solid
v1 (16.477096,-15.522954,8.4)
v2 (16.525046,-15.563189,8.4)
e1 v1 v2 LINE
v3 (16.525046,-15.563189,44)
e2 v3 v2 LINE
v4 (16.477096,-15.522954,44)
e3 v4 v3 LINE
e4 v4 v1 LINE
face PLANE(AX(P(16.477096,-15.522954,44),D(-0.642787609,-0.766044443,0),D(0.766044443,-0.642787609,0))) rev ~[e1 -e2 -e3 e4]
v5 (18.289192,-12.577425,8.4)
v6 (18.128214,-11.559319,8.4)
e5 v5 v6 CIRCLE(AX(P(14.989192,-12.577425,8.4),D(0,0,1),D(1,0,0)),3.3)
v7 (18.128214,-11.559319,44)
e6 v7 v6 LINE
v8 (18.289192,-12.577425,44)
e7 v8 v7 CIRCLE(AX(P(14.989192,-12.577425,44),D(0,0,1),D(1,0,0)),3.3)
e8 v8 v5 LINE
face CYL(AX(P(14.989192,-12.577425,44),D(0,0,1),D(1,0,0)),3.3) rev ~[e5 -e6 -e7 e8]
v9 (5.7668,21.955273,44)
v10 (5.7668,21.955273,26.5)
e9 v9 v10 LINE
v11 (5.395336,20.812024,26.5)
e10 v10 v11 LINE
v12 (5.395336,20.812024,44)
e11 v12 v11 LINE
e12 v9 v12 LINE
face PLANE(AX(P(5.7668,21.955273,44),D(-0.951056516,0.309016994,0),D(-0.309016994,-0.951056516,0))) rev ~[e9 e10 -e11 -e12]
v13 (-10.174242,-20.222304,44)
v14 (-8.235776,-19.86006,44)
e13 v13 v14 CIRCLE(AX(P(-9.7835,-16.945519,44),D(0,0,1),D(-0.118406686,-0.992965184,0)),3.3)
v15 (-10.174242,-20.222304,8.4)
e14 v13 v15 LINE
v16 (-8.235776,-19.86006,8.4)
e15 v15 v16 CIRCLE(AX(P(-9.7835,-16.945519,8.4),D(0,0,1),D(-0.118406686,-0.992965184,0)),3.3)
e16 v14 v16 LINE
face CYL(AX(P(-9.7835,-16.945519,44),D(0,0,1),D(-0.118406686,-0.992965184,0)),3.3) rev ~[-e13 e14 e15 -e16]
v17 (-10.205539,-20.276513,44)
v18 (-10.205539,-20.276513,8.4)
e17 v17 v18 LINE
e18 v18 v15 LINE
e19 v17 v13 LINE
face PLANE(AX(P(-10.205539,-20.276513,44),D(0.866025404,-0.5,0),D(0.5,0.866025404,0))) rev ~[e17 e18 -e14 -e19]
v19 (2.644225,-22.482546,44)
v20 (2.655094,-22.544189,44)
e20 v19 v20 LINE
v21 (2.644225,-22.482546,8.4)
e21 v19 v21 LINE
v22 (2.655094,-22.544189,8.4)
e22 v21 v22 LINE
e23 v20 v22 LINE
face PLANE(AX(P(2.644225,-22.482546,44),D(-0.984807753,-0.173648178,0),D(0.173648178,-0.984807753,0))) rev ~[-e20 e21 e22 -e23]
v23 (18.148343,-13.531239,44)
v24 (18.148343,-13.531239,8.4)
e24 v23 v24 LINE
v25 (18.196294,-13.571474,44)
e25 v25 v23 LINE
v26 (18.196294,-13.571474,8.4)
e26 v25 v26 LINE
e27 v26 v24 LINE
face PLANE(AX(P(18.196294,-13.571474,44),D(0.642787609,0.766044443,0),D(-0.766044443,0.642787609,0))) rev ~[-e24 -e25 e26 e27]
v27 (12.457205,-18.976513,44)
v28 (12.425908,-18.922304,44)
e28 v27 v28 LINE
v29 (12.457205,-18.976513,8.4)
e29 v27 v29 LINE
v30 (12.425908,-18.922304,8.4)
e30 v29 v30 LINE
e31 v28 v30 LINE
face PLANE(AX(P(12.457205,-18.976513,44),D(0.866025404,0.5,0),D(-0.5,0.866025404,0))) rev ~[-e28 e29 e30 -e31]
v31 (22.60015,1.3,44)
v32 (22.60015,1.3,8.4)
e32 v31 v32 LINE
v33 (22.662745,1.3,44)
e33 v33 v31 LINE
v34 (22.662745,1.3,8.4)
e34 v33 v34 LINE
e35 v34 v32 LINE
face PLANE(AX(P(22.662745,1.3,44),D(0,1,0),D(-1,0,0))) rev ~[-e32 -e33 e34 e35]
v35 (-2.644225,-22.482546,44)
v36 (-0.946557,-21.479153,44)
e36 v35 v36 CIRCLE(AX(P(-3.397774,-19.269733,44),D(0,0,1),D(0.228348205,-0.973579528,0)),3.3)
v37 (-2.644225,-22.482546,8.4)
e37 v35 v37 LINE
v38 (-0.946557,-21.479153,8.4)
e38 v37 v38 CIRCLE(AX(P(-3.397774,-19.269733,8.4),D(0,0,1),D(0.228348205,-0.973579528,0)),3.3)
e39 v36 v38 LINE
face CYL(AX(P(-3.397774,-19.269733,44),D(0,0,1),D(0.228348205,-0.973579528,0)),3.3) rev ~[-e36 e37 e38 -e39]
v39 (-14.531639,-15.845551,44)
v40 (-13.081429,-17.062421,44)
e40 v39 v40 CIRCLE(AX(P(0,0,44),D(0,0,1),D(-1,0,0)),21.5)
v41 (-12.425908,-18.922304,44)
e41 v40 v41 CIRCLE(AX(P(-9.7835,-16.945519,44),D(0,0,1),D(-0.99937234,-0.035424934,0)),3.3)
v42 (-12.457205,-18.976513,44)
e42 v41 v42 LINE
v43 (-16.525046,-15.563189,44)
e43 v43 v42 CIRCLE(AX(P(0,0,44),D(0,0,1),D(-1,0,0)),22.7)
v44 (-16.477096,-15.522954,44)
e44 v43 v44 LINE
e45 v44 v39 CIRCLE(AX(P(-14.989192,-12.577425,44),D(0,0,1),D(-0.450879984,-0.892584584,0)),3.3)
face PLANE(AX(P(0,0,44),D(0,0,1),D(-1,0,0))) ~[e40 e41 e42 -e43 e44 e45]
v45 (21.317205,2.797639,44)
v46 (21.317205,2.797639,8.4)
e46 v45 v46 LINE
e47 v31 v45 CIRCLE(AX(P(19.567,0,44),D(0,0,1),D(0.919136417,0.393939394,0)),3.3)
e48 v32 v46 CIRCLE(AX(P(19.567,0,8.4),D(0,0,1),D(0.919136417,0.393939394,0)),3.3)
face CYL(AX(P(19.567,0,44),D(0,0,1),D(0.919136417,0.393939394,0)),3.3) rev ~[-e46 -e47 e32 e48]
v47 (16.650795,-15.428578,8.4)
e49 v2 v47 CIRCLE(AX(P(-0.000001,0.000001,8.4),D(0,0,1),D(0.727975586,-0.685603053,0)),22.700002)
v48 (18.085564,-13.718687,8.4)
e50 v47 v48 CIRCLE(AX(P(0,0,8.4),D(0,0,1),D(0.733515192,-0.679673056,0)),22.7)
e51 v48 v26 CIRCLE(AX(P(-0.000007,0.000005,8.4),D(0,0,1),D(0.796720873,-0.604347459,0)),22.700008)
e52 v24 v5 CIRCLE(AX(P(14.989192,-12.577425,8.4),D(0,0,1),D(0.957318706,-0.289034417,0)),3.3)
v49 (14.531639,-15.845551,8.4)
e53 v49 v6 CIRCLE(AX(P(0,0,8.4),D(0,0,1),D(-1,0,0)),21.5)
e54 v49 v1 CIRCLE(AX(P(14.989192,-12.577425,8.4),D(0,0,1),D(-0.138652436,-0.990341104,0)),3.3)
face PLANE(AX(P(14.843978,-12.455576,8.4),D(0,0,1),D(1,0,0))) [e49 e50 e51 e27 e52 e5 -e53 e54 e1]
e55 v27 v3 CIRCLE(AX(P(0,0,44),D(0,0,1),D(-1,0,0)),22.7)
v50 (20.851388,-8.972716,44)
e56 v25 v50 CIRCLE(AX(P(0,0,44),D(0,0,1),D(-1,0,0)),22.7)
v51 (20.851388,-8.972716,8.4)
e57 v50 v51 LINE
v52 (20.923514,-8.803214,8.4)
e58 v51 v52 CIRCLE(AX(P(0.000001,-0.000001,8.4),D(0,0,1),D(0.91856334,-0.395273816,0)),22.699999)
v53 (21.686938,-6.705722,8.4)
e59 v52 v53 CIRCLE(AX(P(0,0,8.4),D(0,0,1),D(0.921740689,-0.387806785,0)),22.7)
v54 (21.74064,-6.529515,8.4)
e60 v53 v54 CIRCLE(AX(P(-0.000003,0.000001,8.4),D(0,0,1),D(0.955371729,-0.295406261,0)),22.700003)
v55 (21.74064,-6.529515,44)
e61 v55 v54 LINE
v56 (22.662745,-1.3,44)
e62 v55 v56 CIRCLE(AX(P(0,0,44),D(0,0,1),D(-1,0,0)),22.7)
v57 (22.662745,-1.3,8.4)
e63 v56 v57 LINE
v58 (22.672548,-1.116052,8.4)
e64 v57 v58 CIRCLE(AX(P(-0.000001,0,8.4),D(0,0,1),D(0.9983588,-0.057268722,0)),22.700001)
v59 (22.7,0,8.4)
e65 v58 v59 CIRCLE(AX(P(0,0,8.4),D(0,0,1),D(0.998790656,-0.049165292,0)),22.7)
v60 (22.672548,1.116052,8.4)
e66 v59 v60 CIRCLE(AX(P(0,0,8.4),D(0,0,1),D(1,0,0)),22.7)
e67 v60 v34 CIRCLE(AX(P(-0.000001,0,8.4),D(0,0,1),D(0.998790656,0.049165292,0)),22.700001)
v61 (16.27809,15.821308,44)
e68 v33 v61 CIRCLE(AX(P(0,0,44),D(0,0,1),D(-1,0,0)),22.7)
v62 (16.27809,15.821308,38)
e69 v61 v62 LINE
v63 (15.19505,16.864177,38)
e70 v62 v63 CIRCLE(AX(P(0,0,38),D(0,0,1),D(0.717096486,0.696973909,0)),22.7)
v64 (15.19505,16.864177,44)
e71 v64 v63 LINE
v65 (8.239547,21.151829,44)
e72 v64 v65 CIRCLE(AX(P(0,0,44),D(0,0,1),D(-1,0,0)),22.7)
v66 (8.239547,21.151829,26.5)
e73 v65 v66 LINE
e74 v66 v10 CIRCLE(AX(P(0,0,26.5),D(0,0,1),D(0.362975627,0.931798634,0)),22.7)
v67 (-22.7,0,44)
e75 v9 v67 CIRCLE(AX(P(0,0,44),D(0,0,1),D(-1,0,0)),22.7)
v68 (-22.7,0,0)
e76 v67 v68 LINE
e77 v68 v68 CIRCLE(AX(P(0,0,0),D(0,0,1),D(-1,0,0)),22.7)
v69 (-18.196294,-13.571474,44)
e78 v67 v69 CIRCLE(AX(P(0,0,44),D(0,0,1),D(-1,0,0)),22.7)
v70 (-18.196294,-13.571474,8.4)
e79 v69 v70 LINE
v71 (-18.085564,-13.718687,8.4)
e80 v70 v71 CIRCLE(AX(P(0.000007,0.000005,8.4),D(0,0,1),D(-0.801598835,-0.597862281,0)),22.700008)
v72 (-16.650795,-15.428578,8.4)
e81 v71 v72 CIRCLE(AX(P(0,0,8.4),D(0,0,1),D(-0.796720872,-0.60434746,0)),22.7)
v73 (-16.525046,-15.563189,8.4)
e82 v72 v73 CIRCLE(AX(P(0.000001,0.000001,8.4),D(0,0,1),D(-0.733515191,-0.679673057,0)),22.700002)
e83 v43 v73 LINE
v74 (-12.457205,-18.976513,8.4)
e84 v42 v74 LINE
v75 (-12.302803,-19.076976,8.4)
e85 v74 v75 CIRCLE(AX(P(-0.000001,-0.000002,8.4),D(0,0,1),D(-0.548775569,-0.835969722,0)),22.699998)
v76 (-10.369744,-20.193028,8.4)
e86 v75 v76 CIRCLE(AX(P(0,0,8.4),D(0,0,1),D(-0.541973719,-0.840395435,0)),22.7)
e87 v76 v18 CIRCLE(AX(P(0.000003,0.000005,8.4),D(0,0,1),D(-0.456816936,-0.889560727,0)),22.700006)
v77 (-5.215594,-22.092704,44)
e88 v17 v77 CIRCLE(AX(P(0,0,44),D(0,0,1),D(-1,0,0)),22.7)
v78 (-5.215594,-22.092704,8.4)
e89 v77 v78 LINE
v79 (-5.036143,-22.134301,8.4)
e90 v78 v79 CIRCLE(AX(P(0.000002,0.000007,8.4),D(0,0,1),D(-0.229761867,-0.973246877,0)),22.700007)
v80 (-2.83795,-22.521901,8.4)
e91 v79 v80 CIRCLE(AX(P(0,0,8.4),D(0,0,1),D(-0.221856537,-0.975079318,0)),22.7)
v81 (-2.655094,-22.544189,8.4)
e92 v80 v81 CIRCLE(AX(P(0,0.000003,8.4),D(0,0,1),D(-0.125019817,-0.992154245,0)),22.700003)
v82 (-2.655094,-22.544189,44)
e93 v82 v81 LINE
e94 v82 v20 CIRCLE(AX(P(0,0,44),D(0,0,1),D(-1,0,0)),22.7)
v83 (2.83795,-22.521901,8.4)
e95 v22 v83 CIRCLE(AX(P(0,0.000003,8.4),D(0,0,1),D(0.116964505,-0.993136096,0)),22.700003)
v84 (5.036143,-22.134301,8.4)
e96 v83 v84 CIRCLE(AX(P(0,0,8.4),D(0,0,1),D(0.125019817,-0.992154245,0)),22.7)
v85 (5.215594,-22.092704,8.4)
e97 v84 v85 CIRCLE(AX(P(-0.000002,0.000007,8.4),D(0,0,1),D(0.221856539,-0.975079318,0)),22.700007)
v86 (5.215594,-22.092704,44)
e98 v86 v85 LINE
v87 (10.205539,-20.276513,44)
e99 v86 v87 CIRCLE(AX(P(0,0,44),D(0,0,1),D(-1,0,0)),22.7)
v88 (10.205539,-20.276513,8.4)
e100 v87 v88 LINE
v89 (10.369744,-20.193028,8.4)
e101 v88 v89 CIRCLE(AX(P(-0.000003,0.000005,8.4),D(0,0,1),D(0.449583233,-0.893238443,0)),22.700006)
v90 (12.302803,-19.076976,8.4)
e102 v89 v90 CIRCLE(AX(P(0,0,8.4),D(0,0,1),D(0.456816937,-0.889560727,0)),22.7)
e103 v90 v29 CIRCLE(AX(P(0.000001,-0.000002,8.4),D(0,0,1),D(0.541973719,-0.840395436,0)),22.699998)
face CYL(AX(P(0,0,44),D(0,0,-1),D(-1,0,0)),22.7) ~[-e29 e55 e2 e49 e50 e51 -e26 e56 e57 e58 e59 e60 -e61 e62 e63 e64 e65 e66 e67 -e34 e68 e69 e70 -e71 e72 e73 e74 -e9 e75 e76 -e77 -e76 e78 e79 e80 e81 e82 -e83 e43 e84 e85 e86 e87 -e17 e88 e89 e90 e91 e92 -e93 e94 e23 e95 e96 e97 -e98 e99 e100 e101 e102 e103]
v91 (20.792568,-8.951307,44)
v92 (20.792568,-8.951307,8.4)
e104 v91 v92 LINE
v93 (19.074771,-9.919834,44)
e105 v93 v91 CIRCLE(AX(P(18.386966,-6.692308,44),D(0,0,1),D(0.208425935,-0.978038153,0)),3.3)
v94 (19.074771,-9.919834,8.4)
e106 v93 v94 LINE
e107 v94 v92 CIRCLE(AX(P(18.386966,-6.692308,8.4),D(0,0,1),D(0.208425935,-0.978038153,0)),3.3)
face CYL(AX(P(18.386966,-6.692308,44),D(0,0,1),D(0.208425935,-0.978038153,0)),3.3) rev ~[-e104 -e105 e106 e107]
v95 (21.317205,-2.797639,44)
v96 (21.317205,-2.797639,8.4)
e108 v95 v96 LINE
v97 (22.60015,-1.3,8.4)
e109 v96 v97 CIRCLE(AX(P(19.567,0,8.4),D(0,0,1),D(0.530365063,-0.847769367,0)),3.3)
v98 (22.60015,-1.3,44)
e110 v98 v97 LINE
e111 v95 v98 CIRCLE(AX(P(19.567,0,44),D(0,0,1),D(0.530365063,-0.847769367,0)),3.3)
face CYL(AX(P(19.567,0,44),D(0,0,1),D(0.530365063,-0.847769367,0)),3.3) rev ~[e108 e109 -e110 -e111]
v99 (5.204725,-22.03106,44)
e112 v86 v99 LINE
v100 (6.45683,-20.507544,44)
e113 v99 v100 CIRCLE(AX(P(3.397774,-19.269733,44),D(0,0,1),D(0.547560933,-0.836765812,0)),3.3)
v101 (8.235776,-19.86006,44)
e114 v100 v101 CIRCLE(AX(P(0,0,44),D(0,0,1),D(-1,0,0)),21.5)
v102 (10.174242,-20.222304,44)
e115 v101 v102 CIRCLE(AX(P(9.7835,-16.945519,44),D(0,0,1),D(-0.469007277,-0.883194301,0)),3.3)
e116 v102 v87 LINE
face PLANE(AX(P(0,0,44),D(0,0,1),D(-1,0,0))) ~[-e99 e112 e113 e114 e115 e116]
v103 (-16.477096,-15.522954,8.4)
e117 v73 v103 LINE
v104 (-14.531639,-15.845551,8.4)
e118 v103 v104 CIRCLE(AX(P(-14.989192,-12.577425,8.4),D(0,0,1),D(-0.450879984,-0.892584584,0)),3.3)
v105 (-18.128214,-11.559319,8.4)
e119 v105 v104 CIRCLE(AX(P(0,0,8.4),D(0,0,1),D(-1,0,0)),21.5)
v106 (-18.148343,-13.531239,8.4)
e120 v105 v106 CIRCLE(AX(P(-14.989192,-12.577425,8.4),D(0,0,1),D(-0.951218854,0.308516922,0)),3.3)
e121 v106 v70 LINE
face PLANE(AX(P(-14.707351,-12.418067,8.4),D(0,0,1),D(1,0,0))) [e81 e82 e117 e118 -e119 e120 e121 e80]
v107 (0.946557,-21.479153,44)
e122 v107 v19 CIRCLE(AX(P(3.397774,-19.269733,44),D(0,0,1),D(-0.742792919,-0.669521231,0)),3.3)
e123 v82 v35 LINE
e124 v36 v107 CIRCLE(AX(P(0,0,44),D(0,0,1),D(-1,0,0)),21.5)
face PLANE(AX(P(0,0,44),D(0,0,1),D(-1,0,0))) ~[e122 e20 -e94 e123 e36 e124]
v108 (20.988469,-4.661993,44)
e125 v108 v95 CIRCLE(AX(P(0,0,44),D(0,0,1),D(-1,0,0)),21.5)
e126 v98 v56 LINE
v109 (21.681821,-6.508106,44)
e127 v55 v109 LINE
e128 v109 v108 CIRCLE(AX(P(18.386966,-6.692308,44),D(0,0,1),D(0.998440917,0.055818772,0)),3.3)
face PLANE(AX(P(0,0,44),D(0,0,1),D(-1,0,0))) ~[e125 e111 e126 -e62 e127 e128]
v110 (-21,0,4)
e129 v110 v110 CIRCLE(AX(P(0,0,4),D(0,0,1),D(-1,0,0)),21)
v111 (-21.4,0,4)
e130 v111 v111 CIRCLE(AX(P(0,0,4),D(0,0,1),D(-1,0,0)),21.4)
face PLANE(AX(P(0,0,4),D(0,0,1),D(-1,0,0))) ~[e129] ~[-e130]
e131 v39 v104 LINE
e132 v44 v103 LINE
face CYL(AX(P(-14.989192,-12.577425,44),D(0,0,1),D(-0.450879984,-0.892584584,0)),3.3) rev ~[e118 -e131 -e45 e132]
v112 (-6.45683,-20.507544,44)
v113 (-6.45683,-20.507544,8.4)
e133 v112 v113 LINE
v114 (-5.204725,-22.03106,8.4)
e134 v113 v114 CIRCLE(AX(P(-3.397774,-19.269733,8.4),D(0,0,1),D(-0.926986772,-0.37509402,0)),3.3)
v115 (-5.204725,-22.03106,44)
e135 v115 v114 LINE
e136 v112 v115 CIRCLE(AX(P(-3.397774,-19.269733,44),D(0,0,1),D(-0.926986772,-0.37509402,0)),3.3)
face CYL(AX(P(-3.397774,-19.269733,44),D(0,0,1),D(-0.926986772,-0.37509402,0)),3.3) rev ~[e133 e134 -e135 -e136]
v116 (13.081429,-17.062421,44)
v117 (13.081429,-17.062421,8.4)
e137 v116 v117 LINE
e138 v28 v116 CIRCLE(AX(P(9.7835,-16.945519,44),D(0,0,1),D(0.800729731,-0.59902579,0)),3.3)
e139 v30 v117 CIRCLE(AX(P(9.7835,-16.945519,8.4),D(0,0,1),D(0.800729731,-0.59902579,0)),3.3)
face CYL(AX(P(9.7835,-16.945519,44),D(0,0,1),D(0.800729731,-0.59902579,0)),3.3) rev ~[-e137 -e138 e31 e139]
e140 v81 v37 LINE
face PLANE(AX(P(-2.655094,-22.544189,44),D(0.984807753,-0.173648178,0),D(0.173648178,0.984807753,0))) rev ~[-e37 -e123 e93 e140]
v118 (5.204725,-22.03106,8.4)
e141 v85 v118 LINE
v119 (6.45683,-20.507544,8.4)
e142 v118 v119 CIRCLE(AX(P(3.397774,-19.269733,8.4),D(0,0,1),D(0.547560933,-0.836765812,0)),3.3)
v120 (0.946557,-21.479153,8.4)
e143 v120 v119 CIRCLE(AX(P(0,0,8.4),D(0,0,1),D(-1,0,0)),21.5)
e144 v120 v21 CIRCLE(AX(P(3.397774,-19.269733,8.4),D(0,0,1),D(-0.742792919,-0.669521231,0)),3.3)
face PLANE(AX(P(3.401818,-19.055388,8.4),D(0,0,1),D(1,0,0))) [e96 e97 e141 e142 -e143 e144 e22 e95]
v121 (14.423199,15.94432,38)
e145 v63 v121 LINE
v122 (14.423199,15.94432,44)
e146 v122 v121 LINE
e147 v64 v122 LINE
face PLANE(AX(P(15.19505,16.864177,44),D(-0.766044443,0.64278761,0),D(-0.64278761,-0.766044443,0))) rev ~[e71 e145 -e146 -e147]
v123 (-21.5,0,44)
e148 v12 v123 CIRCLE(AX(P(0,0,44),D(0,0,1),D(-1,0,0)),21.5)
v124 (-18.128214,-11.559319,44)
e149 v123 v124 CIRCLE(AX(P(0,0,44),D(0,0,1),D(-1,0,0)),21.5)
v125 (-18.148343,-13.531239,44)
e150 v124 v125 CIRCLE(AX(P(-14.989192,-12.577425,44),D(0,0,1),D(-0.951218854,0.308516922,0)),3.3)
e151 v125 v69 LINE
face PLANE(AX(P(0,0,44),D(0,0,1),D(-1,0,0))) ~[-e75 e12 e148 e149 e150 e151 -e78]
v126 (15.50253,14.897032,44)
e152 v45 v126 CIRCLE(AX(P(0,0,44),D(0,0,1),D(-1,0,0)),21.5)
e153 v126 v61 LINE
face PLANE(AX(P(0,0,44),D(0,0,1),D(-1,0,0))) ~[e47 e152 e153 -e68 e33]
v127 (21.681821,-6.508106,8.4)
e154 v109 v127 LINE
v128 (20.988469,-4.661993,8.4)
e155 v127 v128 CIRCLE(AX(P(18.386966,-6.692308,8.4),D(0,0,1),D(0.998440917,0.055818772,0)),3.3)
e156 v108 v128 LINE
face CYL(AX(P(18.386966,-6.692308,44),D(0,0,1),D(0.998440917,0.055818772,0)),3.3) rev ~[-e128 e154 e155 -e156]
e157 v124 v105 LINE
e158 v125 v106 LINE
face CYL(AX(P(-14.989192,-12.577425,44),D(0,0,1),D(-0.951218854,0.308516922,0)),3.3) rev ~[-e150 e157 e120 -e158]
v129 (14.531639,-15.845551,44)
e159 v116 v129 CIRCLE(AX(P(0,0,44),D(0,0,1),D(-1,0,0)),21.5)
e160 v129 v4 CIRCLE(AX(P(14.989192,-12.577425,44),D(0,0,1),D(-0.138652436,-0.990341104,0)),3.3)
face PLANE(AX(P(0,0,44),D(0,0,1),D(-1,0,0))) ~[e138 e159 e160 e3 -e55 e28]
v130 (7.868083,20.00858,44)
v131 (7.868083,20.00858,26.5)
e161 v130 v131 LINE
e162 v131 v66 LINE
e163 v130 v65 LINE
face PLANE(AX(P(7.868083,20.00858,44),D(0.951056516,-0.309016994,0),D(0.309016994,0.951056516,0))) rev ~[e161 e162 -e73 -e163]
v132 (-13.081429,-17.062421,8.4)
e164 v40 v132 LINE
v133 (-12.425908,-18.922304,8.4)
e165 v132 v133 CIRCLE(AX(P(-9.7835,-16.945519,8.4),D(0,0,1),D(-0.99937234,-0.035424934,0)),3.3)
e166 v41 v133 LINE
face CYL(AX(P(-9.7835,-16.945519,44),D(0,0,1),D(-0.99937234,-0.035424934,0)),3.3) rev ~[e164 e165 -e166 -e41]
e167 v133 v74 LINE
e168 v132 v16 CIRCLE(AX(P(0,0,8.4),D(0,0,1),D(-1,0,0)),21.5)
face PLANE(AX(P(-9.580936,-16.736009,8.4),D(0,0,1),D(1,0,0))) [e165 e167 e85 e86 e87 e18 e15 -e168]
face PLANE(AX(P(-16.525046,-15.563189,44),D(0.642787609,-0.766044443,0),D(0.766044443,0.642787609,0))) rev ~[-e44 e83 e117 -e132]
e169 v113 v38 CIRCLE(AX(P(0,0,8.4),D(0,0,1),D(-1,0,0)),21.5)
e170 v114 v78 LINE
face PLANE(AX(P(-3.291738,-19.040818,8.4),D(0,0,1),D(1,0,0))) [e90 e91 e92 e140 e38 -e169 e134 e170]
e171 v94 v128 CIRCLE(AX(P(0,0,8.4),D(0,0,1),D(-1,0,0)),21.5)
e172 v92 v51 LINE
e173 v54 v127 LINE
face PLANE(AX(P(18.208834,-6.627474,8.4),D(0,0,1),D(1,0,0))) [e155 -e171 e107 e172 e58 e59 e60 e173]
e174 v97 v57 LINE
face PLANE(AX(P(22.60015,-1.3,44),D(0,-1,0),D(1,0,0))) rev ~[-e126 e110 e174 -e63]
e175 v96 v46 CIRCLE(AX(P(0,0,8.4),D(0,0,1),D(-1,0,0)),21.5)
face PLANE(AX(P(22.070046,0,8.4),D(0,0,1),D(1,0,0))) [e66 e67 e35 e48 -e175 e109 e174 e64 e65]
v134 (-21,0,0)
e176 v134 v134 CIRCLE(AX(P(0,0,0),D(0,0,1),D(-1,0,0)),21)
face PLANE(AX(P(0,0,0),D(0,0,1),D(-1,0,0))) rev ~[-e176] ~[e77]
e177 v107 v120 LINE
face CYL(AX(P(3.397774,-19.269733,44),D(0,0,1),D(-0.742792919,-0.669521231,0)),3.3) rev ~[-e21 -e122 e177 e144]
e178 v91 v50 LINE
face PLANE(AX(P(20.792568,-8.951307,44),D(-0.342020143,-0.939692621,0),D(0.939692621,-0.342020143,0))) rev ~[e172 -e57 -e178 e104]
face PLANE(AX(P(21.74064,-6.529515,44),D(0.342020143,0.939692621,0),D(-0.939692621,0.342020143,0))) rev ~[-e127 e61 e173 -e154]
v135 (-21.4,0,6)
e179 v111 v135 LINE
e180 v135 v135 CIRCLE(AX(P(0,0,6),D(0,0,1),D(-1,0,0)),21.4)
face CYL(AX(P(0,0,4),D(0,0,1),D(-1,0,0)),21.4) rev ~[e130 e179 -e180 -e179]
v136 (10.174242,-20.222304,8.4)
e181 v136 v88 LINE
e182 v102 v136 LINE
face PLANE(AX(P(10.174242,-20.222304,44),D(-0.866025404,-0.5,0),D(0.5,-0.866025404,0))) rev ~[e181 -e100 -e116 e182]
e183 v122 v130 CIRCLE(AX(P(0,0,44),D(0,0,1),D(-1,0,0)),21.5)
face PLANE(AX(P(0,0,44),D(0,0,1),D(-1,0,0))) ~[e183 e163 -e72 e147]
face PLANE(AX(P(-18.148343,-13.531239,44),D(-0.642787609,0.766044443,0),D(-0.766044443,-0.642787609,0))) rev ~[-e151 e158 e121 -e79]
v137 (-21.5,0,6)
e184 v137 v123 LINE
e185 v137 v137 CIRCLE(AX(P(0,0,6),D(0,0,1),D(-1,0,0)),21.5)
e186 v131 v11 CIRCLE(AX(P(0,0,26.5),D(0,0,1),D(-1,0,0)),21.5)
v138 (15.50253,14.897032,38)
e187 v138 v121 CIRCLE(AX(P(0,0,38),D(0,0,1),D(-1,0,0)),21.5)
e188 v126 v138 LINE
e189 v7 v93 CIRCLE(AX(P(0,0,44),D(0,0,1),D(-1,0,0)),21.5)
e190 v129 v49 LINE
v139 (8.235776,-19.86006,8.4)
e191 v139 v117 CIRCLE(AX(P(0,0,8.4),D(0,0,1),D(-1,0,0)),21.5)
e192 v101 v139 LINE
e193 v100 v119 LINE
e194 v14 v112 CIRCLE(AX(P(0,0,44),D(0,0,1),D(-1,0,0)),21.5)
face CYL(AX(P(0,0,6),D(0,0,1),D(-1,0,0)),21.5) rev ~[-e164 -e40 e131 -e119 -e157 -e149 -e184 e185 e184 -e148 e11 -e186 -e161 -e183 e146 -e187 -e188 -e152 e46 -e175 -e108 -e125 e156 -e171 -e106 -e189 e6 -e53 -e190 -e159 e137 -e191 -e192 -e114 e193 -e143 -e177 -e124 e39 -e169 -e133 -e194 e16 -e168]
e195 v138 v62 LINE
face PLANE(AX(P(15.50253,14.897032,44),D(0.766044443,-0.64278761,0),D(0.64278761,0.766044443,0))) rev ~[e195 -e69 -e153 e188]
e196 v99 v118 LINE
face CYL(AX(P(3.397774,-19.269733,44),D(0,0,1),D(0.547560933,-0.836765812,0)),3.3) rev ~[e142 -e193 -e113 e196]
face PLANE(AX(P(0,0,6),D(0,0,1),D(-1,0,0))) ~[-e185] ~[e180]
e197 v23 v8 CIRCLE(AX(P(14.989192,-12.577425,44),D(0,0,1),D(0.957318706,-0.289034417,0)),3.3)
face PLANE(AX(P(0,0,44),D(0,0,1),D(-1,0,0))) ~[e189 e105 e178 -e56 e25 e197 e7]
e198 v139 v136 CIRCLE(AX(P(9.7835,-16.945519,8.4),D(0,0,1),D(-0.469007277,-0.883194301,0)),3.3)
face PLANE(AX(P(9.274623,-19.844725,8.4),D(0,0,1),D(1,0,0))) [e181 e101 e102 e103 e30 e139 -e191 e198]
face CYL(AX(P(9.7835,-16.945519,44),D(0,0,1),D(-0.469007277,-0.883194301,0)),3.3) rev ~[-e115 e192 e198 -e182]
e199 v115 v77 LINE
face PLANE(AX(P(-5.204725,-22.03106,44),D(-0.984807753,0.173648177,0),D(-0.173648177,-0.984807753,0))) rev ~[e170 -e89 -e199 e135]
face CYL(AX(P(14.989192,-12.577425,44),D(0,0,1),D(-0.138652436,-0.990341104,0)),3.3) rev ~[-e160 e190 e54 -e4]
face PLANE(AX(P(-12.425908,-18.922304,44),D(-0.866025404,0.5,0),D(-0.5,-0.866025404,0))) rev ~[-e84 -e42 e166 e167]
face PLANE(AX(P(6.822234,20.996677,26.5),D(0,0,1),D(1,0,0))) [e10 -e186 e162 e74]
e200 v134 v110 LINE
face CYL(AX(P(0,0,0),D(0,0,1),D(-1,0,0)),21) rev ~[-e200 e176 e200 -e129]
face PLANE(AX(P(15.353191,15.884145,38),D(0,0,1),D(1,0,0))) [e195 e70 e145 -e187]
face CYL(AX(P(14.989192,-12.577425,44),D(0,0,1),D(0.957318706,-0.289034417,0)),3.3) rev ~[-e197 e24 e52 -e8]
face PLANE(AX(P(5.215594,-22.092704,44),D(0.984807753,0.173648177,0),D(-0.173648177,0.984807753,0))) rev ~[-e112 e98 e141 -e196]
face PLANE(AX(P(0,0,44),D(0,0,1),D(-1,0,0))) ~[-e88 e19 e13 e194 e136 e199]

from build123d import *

# Parameters (mm, degrees)
F3_DEPTH = 35.6
F4_DEPTH = 17.5
F5_DEPTH = 6


with BuildPart() as f1:
    # F0 (on Front) → F1 (revolve)
    with BuildSketch(Plane.XZ):
        Polygon((-22.7, 44), (-22.7, 0), (-21, 0), (-21, 4), (-21.4, 4), (-21.4, 6), (-21.5, 6), (-21.5, 44), align=None)
    revolve(axis=Axis((0, 0, 22), (0, 0, 1)))

    # F2 (on face) → F3 (cut)
    with BuildSketch(Plane.XY.offset(44)):
        with BuildLine():
            ThreePointArc((22.7, 0), (22.6931359339, 0.5581948454), (22.6725478867, 1.1160521149))
            ThreePointArc((22.6725478867, 1.1160521149), (22.637726736, 1.2085682904), (22.6001501776, 1.3))
            Line((22.6001501776, 1.3), (21.460661686, 1.3))
            ThreePointArc((21.460661686, 1.3), (21.4901631712, 0.6502975286), (21.5, 0))
            ThreePointArc((21.5, 0), (21.4901631712, -0.6502975286), (21.460661686, -1.3))
            Line((21.460661686, -1.3), (22.6001501776, -1.3))
            ThreePointArc((22.6001501776, -1.3), (22.637726736, -1.2085682904), (22.6725478867, -1.1160521149))
            ThreePointArc((22.6725478867, -1.1160521149), (22.6931359339, -0.5581948454), (22.7, 0))
        make_face()
        with BuildLine():
            Line((21.460661686, 1.3), (22.6001501776, 1.3))
            ThreePointArc((22.6001501776, 1.3), (22.0731627173, 2.1468927393), (21.3172047069, 2.7976389124))
            ThreePointArc((21.3172047069, 2.7976389124), (21.4020371428, 2.050074667), (21.460661686, 1.3))
        make_face()
        with BuildLine():
            ThreePointArc((22.6001501776, 1.3), (22.637726736, 1.2085682904), (22.6725478867, 1.1160521149))
            ThreePointArc((22.6725478867, 1.1160521149), (22.667832914, 1.2080360014), (22.6627447587, 1.3))
            Line((22.6627447587, 1.3), (22.6001501776, 1.3))
        make_face()
        with BuildLine():
            ThreePointArc((22.6627447587, -1.3), (22.667832914, -1.2080360014), (22.6725478867, -1.1160521149))
            ThreePointArc((22.6725478867, -1.1160521149), (22.637726736, -1.2085682904), (22.6001501776, -1.3))
            Line((22.6001501776, -1.3), (22.6627447587, -1.3))
        make_face()
        with BuildLine():
            ThreePointArc((21.3172047069, -2.7976389124), (22.0731627173, -2.1468927393), (22.6001501776, -1.3))
            Line((22.6001501776, -1.3), (21.460661686, -1.3))
            ThreePointArc((21.460661686, -1.3), (21.4020371428, -2.050074667), (21.3172047069, -2.7976389124))
        make_face()
        with BuildLine():
            ThreePointArc((21.460661686, 1.3), (21.4020371428, 2.050074667), (21.3172047069, 2.7976389124))
            ThreePointArc((21.3172047069, 2.7976389124), (16.267, 0), (21.3172047069, -2.7976389124))
            ThreePointArc((21.3172047069, -2.7976389124), (21.4020371428, -2.050074667), (21.460661686, -1.3))
            ThreePointArc((21.460661686, -1.3), (21.4901631712, -0.6502975286), (21.5, 0))
            ThreePointArc((21.5, 0), (21.4901631712, 0.6502975286), (21.460661686, 1.3))
        make_face()
        with BuildLine():
            ThreePointArc((20.6110516098, -6.1183781787), (20.8125032043, -5.3934877744), (20.9884688206, -4.6619927676))
            ThreePointArc((20.9884688206, -4.6619927676), (15.2859798623, -5.5636416715), (19.0747710971, -9.9198340507))
            ThreePointArc((19.0747710971, -9.9198340507), (19.4101695414, -9.2463678477), (19.7217992372, -8.5615789927))
            ThreePointArc((19.7217992372, -8.5615789927), (20.2033913469, -7.3534330815), (20.6110516098, -6.1183781787))
        make_face()
        with BuildLine():
            ThreePointArc((21.6818205369, -6.5081061959), (21.4762686853, -5.5320470115), (20.9884688206, -4.6619927676))
            ThreePointArc((20.9884688206, -4.6619927676), (20.8125032043, -5.3934877744), (20.6110516098, -6.1183781787))
            Line((20.6110516098, -6.1183781787), (21.6818205369, -6.5081061959))
        make_face()
        with BuildLine():
            ThreePointArc((21.6869655109, -6.6923081445), (21.6856790166, -6.6001712509), (21.6818205369, -6.5081061959))
            Line((21.6818205369, -6.5081061959), (20.6110516098, -6.1183781787))
            ThreePointArc((20.6110516098, -6.1183781787), (20.2033913469, -7.3534330815), (19.7217992372, -8.5615789927))
            Line((19.7217992372, -8.5615789927), (20.7925681642, -8.95130701))
            ThreePointArc((20.7925681642, -8.95130701), (20.8591500653, -8.878241247), (20.9235136393, -8.8032140145))
            ThreePointArc((20.9235136393, -8.8032140145), (21.3310224918, -7.7638572535), (21.6869382479, -6.705722141))
            ThreePointArc((21.6869382479, -6.705722141), (21.6869586952, -6.6990151566), (21.6869655109, -6.6923081445))
        make_face()
        with BuildLine():
            ThreePointArc((19.7217992372, -8.5615789927), (19.4101695414, -9.2463678477), (19.0747710971, -9.9198340507))
            ThreePointArc((19.0747710971, -9.9198340507), (20.0077075605, -9.566885541), (20.7925681642, -8.95130701))
            Line((20.7925681642, -8.95130701), (19.7217992372, -8.5615789927))
        make_face()
        with BuildLine():
            ThreePointArc((21.6869382479, -6.705722141), (21.7139679649, -6.6176729459), (21.7406402029, -6.5295148035))
            Line((21.7406402029, -6.5295148035), (21.6818205369, -6.5081061959))
            ThreePointArc((21.6818205369, -6.5081061959), (21.6856790166, -6.6001712509), (21.6869655109, -6.6923081445))
            ThreePointArc((21.6869655109, -6.6923081445), (21.6869586952, -6.6990151566), (21.6869382479, -6.705722141))
        make_face()
        with BuildLine():
            ThreePointArc((20.8513878302, -8.9727156176), (20.8876226722, -8.8880379783), (20.9235136393, -8.8032140145))
            ThreePointArc((20.9235136393, -8.8032140145), (20.8591500653, -8.878241247), (20.7925681642, -8.95130701))
            Line((20.7925681642, -8.95130701), (20.8513878302, -8.9727156176))
        make_face()
        with BuildLine():
            ThreePointArc((17.2754445228, -12.7987896514), (17.7126742195, -12.1865159908), (18.1282138378, -11.5593193161))
            ThreePointArc((18.1282138378, -11.5593193161), (12.4612449562, -10.4562260468), (14.5316385793, -15.8455508014))
            ThreePointArc((14.5316385793, -15.8455508014), (15.0771490298, -15.327412604), (15.6041967376, -14.7905052035))
            ThreePointArc((15.6041967376, -14.7905052035), (16.4699555271, -13.8199336083), (17.2754445228, -12.7987896514))
        make_face()
        with BuildLine():
            ThreePointArc((18.2891916185, -12.5774251587), (18.248698738, -12.0620482693), (18.1282138378, -11.5593193161))
            ThreePointArc((18.1282138378, -11.5593193161), (17.7126742195, -12.1865159908), (17.2754445228, -12.7987896514))
            Line((17.2754445228, -12.7987896514), (18.1483433498, -13.5312387352))
            ThreePointArc((18.1483433498, -13.5312387352), (18.2537896576, -13.0595036206), (18.2891916185, -12.5774251587))
        make_face()
        with BuildLine():
            Line((18.1483433498, -13.5312387352), (17.2754445228, -12.7987896514))
            ThreePointArc((17.2754445228, -12.7987896514), (16.4699555271, -13.8199336083), (15.6041967376, -14.7905052035))
            Line((15.6041967376, -14.7905052035), (16.4770955646, -15.5229542873))
            ThreePointArc((16.4770955646, -15.5229542873), (16.5646520485, -15.4770672804), (16.6507948488, -15.4285783825))
            ThreePointArc((16.6507948488, -15.4285783825), (17.3892088588, -14.5912787399), (18.0855637912, -13.7186873408))
            ThreePointArc((18.0855637912, -13.7186873408), (18.1183574935, -13.6254332344), (18.1483433498, -13.5312387352))
        make_face()
        with BuildLine():
            ThreePointArc((15.6041967376, -14.7905052035), (15.0771490298, -15.327412604), (14.5316385793, -15.8455508014))
            ThreePointArc((14.5316385793, -15.8455508014), (15.5290275895, -15.8329707542), (16.4770955646, -15.5229542873))
            Line((16.4770955646, -15.5229542873), (15.6041967376, -14.7905052035))
        make_face()
        with BuildLine():
            ThreePointArc((18.0855637912, -13.7186873408), (18.1410780151, -13.6451928696), (18.1962935809, -13.5714737564))
            Line((18.1962935809, -13.5714737564), (18.1483433498, -13.5312387352))
            ThreePointArc((18.1483433498, -13.5312387352), (18.1183574935, -13.6254332344), (18.0855637912, -13.7186873408))
        make_face()
        with BuildLine():
            ThreePointArc((16.6507948488, -15.4285783825), (16.5646520485, -15.4770672804), (16.4770955646, -15.5229542873))
            Line((16.4770955646, -15.5229542873), (16.5250457957, -15.5631893085))
            ThreePointArc((16.5250457957, -15.5631893085), (16.5880568676, -15.4960114016), (16.6507948488, -15.4285783825))
        make_face()
        with BuildLine():
            ThreePointArc((9.6044978181, -19.2354782021), (8.9256018301, -19.5597451919), (8.2357759847, -19.86006027))
            ThreePointArc((8.2357759847, -19.86006027), (9.1773177072, -20.1893660248), (10.1742420639, -20.2223041832))
            Line((10.1742420639, -20.2223041832), (9.6044978181, -19.2354782021))
        make_face()
        with BuildLine():
            ThreePointArc((12.3028034268, -19.076976381), (12.3655142097, -19.0005622922), (12.4259081137, -18.9223041832))
            Line((12.4259081137, -18.9223041832), (11.8561638679, -17.9354782021))
            ThreePointArc((11.8561638679, -17.9354782021), (10.75, -18.6195461814), (9.6044978181, -19.2354782021))
            Line((9.6044978181, -19.2354782021), (10.1742420639, -20.2223041832))
            ThreePointArc((10.1742420639, -20.2223041832), (10.2722125263, -20.2091305825), (10.3697444599, -20.1930284959))
            ThreePointArc((10.3697444599, -20.1930284959), (11.35, -19.6587766659), (12.3028034268, -19.076976381))
        make_face()
        with BuildLine():
            ThreePointArc((12.4259081137, -18.9223041832), (12.8958450101, -18.0424732854), (13.0814287222, -17.0624213577))
            ThreePointArc((13.0814287222, -17.0624213577), (12.4764353126, -17.5096705249), (11.8561638679, -17.9354782021))
            Line((11.8561638679, -17.9354782021), (12.4259081137, -18.9223041832))
        make_face()
        with BuildLine():
            ThreePointArc((11.8561638679, -17.9354782021), (12.4764353126, -17.5096705249), (13.0814287222, -17.0624213577))
            ThreePointArc((13.0814287222, -17.0624213577), (13.0829821399, -17.0039793908), (13.0835, -16.9455190759))
            ThreePointArc((13.0835, -16.9455190759), (8.0831308122, -14.1173138808), (8.2357759847, -19.86006027))
            ThreePointArc((8.2357759847, -19.86006027), (8.9256018301, -19.5597451919), (9.6044978181, -19.2354782021))
            ThreePointArc((9.6044978181, -19.2354782021), (10.75, -18.6195461814), (11.8561638679, -17.9354782021))
        make_face()
        with BuildLine():
            Line((12.4572054043, -18.9765126806), (12.4259081137, -18.9223041832))
            ThreePointArc((12.4259081137, -18.9223041832), (12.3655142097, -19.0005622922), (12.3028034268, -19.076976381))
            ThreePointArc((12.3028034268, -19.076976381), (12.380106323, -19.0269011516), (12.4572054043, -18.9765126806))
        make_face()
        with BuildLine():
            ThreePointArc((10.2055393545, -20.2765126806), (10.2877265911, -20.234937153), (10.3697444599, -20.1930284959))
            ThreePointArc((10.3697444599, -20.1930284959), (10.2722125263, -20.2091305825), (10.1742420639, -20.2223041832))
            Line((10.1742420639, -20.2223041832), (10.2055393545, -20.2765126806))
        make_face()
        with BuildLine():
            ThreePointArc((5.0068548722, -20.9088833822), (5.7353541745, -20.7209003784), (6.4568302413, -20.507543569))
            ThreePointArc((6.4568302413, -20.507543569), (6.6369779576, -19.9002545354), (6.6977738924, -19.2697333032))
            ThreePointArc((6.6977738924, -19.2697333032), (2.2143498115, -16.1892288892), (0.9465572593, -21.4791533668))
            ThreePointArc((0.9465572593, -21.4791533668), (1.6974953219, -21.4328838384), (2.4463547144, -21.3603686441))
            ThreePointArc((2.4463547144, -21.3603686441), (3.7334358198, -21.1733666898), (5.0068548722, -20.9088833822))
        make_face()
        with BuildLine():
            ThreePointArc((2.4463547144, -21.3603686441), (1.6974953219, -21.4328838384), (0.9465572593, -21.4791533668))
            ThreePointArc((0.9465572593, -21.4791533668), (1.7186878666, -22.1106257894), (2.6442248144, -22.4825457451))
            Line((2.6442248144, -22.4825457451), (2.4463547144, -21.3603686441))
        make_face()
        with BuildLine():
            ThreePointArc((5.0361433991, -22.1343005235), (5.1212074167, -22.083943119), (5.2047249723, -22.0310604832))
            Line((5.2047249723, -22.0310604832), (5.0068548722, -20.9088833822))
            ThreePointArc((5.0068548722, -20.9088833822), (3.7334358198, -21.1733666898), (2.4463547144, -21.3603686441))
            Line((2.4463547144, -21.3603686441), (2.6442248144, -22.4825457451))
            ThreePointArc((2.6442248144, -22.4825457451), (2.7407925718, -22.5036744814), (2.8379498481, -22.5219013553))
            ThreePointArc((2.8379498481, -22.5219013553), (3.941813633, -22.3551359934), (5.0361433991, -22.1343005235))
        make_face()
        with BuildLine():
            ThreePointArc((5.2047249723, -22.0310604832), (5.9472410958, -21.3650177657), (6.4568302413, -20.507543569))
            ThreePointArc((6.4568302413, -20.507543569), (5.7353541745, -20.7209003784), (5.0068548722, -20.9088833822))
            Line((5.0068548722, -20.9088833822), (5.2047249723, -22.0310604832))
        make_face()
        with BuildLine():
            Line((5.2155944072, -22.092704112), (5.2047249723, -22.0310604832))
            ThreePointArc((5.2047249723, -22.0310604832), (5.1212074167, -22.083943119), (5.0361433991, -22.1343005235))
            ThreePointArc((5.0361433991, -22.1343005235), (5.1259110973, -22.1136843475), (5.2155944072, -22.092704112))
        make_face()
        with BuildLine():
            ThreePointArc((2.6550942494, -22.5441893739), (2.746544657, -22.5332308479), (2.8379498481, -22.5219013553))
            ThreePointArc((2.8379498481, -22.5219013553), (2.7407925718, -22.5036744814), (2.6442248144, -22.4825457451))
            Line((2.6442248144, -22.4825457451), (2.6550942494, -22.5441893739))
        make_face()
        with BuildLine():
            ThreePointArc((-0.0977738924, -19.2697333032), (-4.0282951246, -16.030529238), (-6.4568302413, -20.507543569))
            ThreePointArc((-6.4568302413, -20.507543569), (-5.7353541745, -20.7209003784), (-5.0068548722, -20.9088833822))
            ThreePointArc((-5.0068548722, -20.9088833822), (-3.7334358198, -21.1733666898), (-2.4463547144, -21.3603686441))
            ThreePointArc((-2.4463547144, -21.3603686441), (-1.6974953219, -21.4328838384), (-0.9465572593, -21.4791533668))
            ThreePointArc((-0.9465572593, -21.4791533668), (-0.3172694784, -20.4531573841), (-0.0977738924, -19.2697333032))
        make_face()
        with BuildLine():
            ThreePointArc((-5.0068548722, -20.9088833822), (-5.7353541745, -20.7209003784), (-6.4568302413, -20.507543569))
            ThreePointArc((-6.4568302413, -20.507543569), (-5.9472410958, -21.3650177657), (-5.2047249723, -22.0310604832))
            Line((-5.2047249723, -22.0310604832), (-5.0068548722, -20.9088833822))
        make_face()
        with BuildLine():
            Line((-5.0068548722, -20.9088833822), (-5.2047249723, -22.0310604832))
            ThreePointArc((-5.2047249723, -22.0310604832), (-5.1212074167, -22.083943119), (-5.0361433991, -22.1343005235))
            ThreePointArc((-5.0361433991, -22.1343005235), (-3.941813633, -22.3551359934), (-2.8379498481, -22.5219013553))
            ThreePointArc((-2.8379498481, -22.5219013553), (-2.7407925718, -22.5036744814), (-2.6442248144, -22.4825457451))
            Line((-2.6442248144, -22.4825457451), (-2.4463547144, -21.3603686441))
            ThreePointArc((-2.4463547144, -21.3603686441), (-3.7334358198, -21.1733666898), (-5.0068548722, -20.9088833822))
        make_face()
        with BuildLine():
            ThreePointArc((-2.6442248144, -22.4825457451), (-1.7186878666, -22.1106257894), (-0.9465572593, -21.4791533668))
            ThreePointArc((-0.9465572593, -21.4791533668), (-1.6974953219, -21.4328838384), (-2.4463547144, -21.3603686441))
            Line((-2.4463547144, -21.3603686441), (-2.6442248144, -22.4825457451))
        make_face()
        with BuildLine():
            Line((-2.6550942494, -22.5441893739), (-2.6442248144, -22.4825457451))
            ThreePointArc((-2.6442248144, -22.4825457451), (-2.7407925718, -22.5036744814), (-2.8379498481, -22.5219013553))
            ThreePointArc((-2.8379498481, -22.5219013553), (-2.746544657, -22.5332308479), (-2.6550942494, -22.5441893739))
        make_face()
        with BuildLine():
            ThreePointArc((-5.0361433991, -22.1343005235), (-5.1212074167, -22.083943119), (-5.2047249723, -22.0310604832))
            Line((-5.2047249723, -22.0310604832), (-5.2155944072, -22.092704112))
            ThreePointArc((-5.2155944072, -22.092704112), (-5.1259110973, -22.1136843475), (-5.0361433991, -22.1343005235))
        make_face()
        with BuildLine():
            ThreePointArc((-6.4835, -16.9455190759), (-9.8419603149, -13.6460369359), (-13.0814287222, -17.0624213577))
            ThreePointArc((-13.0814287222, -17.0624213577), (-12.4764353126, -17.5096705249), (-11.8561638679, -17.9354782021))
            ThreePointArc((-11.8561638679, -17.9354782021), (-10.75, -18.6195461814), (-9.6044978181, -19.2354782021))
            ThreePointArc((-9.6044978181, -19.2354782021), (-8.9256018301, -19.5597451919), (-8.2357759847, -19.86006027))
            ThreePointArc((-8.2357759847, -19.86006027), (-6.955294805, -18.6458882636), (-6.4835, -16.9455190759))
        make_face()
        with BuildLine():
            ThreePointArc((-11.8561638679, -17.9354782021), (-12.4764353126, -17.5096705249), (-13.0814287222, -17.0624213577))
            ThreePointArc((-13.0814287222, -17.0624213577), (-12.8958450101, -18.0424732854), (-12.4259081137, -18.9223041832))
            Line((-12.4259081137, -18.9223041832), (-11.8561638679, -17.9354782021))
        make_face()
        with BuildLine():
            Line((-11.8561638679, -17.9354782021), (-12.4259081137, -18.9223041832))
            ThreePointArc((-12.4259081137, -18.9223041832), (-12.3655142097, -19.0005622922), (-12.3028034268, -19.076976381))
            ThreePointArc((-12.3028034268, -19.076976381), (-11.35, -19.6587766659), (-10.3697444599, -20.1930284959))
            ThreePointArc((-10.3697444599, -20.1930284959), (-10.2722125263, -20.2091305825), (-10.1742420639, -20.2223041832))
            Line((-10.1742420639, -20.2223041832), (-9.6044978181, -19.2354782021))
            ThreePointArc((-9.6044978181, -19.2354782021), (-10.75, -18.6195461814), (-11.8561638679, -17.9354782021))
        make_face()
        with BuildLine():
            ThreePointArc((-10.1742420639, -20.2223041832), (-9.1773177072, -20.1893660248), (-8.2357759847, -19.86006027))
            ThreePointArc((-8.2357759847, -19.86006027), (-8.9256018301, -19.5597451919), (-9.6044978181, -19.2354782021))
            Line((-9.6044978181, -19.2354782021), (-10.1742420639, -20.2223041832))
        make_face()
        with BuildLine():
            ThreePointArc((-10.1742420639, -20.2223041832), (-10.2722125263, -20.2091305825), (-10.3697444599, -20.1930284959))
            ThreePointArc((-10.3697444599, -20.1930284959), (-10.2877265911, -20.234937153), (-10.2055393545, -20.2765126806))
            Line((-10.2055393545, -20.2765126806), (-10.1742420639, -20.2223041832))
        make_face()
        with BuildLine():
            Line((-12.4259081137, -18.9223041832), (-12.4572054043, -18.9765126806))
            ThreePointArc((-12.4572054043, -18.9765126806), (-12.380106323, -19.0269011516), (-12.3028034268, -19.076976381))
            ThreePointArc((-12.3028034268, -19.076976381), (-12.3655142097, -19.0005622922), (-12.4259081137, -18.9223041832))
        make_face()
        with BuildLine():
            ThreePointArc((-11.6891916185, -12.5774251587), (-14.4738147291, -9.3179180393), (-18.1282138378, -11.5593193161))
            ThreePointArc((-18.1282138378, -11.5593193161), (-17.7126742195, -12.1865159908), (-17.2754445228, -12.7987896514))
            ThreePointArc((-17.2754445228, -12.7987896514), (-16.4699555271, -13.8199336083), (-15.6041967376, -14.7905052035))
            ThreePointArc((-15.6041967376, -14.7905052035), (-15.0771490298, -15.327412604), (-14.5316385793, -15.8455508014))
            ThreePointArc((-14.5316385793, -15.8455508014), (-12.4992192262, -14.743074596), (-11.6891916185, -12.5774251587))
        make_face()
        with BuildLine():
            ThreePointArc((-17.2754445228, -12.7987896514), (-17.7126742195, -12.1865159908), (-18.1282138378, -11.5593193161))
            ThreePointArc((-18.1282138378, -11.5593193161), (-18.2890196939, -12.5437402484), (-18.1483433498, -13.5312387352))
            Line((-18.1483433498, -13.5312387352), (-17.2754445228, -12.7987896514))
        make_face()
        with BuildLine():
            Line((-17.2754445228, -12.7987896514), (-18.1483433498, -13.5312387352))
            ThreePointArc((-18.1483433498, -13.5312387352), (-18.1183574935, -13.6254332344), (-18.0855637912, -13.7186873408))
            ThreePointArc((-18.0855637912, -13.7186873408), (-17.3892088588, -14.5912787399), (-16.6507948488, -15.4285783825))
            ThreePointArc((-16.6507948488, -15.4285783825), (-16.5646520485, -15.4770672804), (-16.4770955646, -15.5229542873))
            Line((-16.4770955646, -15.5229542873), (-15.6041967376, -14.7905052035))
            ThreePointArc((-15.6041967376, -14.7905052035), (-16.4699555271, -13.8199336083), (-17.2754445228, -12.7987896514))
        make_face()
        with BuildLine():
            ThreePointArc((-16.4770955646, -15.5229542873), (-15.5290275895, -15.8329707542), (-14.5316385793, -15.8455508014))
            ThreePointArc((-14.5316385793, -15.8455508014), (-15.0771490298, -15.327412604), (-15.6041967376, -14.7905052035))
            Line((-15.6041967376, -14.7905052035), (-16.4770955646, -15.5229542873))
        make_face()
        with BuildLine():
            Line((-18.1483433498, -13.5312387352), (-18.1962935809, -13.5714737564))
            ThreePointArc((-18.1962935809, -13.5714737564), (-18.1410780151, -13.6451928696), (-18.0855637912, -13.7186873408))
            ThreePointArc((-18.0855637912, -13.7186873408), (-18.1183574935, -13.6254332344), (-18.1483433498, -13.5312387352))
        make_face()
        with BuildLine():
            ThreePointArc((-16.4770955646, -15.5229542873), (-16.5646520485, -15.4770672804), (-16.6507948488, -15.4285783825))
            ThreePointArc((-16.6507948488, -15.4285783825), (-16.5880568676, -15.4960114016), (-16.5250457957, -15.5631893085))
            Line((-16.5250457957, -15.5631893085), (-16.4770955646, -15.5229542873))
        make_face()
    extrude(amount=-F3_DEPTH, mode=Mode.SUBTRACT)

    # F2 (on face) → F4 (cut)
    with BuildSketch(Plane.XY.offset(44)):
        with BuildLine():
            Line((7.8680826427, 20.0085800478), (8.2395467408, 21.1518289873))
            ThreePointArc((8.2395467408, 21.1518289873), (7.0146857723, 21.5889829199), (5.7667997985, 21.9552731726))
            Line((5.7667997985, 21.9552731726), (5.3953357003, 20.8120242331))
            ThreePointArc((5.3953357003, 20.8120242331), (6.6438653791, 20.4477151003), (7.8680826427, 20.0085800478))
        make_face()
        with BuildLine():
            Line((7.7132841623, 19.5321593131), (7.8680826427, 20.0085800478))
            ThreePointArc((7.8680826427, 20.0085800478), (6.6438653791, 20.4477151003), (5.3953357003, 20.8120242331))
            Line((5.3953357003, 20.8120242331), (5.2405372199, 20.3356034985))
            ThreePointArc((5.2405372199, 20.3356034985), (6.4893568819, 19.9721868422), (7.7132841623, 19.5321593131))
        make_face()
    extrude(amount=-F4_DEPTH, mode=Mode.SUBTRACT)

    # F2 (on face) → F5 (cut)
    with BuildSketch(Plane.XY.offset(44)):
        with BuildLine():
            Line((15.5025304569, 14.8970315645), (16.2780902413, 15.8213077239))
            ThreePointArc((16.2780902413, 15.8213077239), (15.7452067457, 16.3517113641), (15.1950501559, 16.8641765515))
            Line((15.1950501559, 16.8641765515), (14.4231987776, 15.9443198984))
            ThreePointArc((14.4231987776, 15.9443198984), (14.9720246048, 15.4301159825), (15.5025304569, 14.8970315645))
        make_face()
        with BuildLine():
            Line((15.1792371354, 14.5117455872), (15.5025304569, 14.8970315645))
            ThreePointArc((15.5025304569, 14.8970315645), (14.9720246048, 15.4301159825), (14.4231987776, 15.9443198984))
            Line((14.4231987776, 15.9443198984), (14.1015769428, 15.5610259214))
            ThreePointArc((14.1015769428, 15.5610259214), (14.6498042846, 15.0460371668), (15.1792371354, 14.5117455872))
        make_face()
    extrude(amount=-F5_DEPTH, mode=Mode.SUBTRACT)


solid = f1.part
